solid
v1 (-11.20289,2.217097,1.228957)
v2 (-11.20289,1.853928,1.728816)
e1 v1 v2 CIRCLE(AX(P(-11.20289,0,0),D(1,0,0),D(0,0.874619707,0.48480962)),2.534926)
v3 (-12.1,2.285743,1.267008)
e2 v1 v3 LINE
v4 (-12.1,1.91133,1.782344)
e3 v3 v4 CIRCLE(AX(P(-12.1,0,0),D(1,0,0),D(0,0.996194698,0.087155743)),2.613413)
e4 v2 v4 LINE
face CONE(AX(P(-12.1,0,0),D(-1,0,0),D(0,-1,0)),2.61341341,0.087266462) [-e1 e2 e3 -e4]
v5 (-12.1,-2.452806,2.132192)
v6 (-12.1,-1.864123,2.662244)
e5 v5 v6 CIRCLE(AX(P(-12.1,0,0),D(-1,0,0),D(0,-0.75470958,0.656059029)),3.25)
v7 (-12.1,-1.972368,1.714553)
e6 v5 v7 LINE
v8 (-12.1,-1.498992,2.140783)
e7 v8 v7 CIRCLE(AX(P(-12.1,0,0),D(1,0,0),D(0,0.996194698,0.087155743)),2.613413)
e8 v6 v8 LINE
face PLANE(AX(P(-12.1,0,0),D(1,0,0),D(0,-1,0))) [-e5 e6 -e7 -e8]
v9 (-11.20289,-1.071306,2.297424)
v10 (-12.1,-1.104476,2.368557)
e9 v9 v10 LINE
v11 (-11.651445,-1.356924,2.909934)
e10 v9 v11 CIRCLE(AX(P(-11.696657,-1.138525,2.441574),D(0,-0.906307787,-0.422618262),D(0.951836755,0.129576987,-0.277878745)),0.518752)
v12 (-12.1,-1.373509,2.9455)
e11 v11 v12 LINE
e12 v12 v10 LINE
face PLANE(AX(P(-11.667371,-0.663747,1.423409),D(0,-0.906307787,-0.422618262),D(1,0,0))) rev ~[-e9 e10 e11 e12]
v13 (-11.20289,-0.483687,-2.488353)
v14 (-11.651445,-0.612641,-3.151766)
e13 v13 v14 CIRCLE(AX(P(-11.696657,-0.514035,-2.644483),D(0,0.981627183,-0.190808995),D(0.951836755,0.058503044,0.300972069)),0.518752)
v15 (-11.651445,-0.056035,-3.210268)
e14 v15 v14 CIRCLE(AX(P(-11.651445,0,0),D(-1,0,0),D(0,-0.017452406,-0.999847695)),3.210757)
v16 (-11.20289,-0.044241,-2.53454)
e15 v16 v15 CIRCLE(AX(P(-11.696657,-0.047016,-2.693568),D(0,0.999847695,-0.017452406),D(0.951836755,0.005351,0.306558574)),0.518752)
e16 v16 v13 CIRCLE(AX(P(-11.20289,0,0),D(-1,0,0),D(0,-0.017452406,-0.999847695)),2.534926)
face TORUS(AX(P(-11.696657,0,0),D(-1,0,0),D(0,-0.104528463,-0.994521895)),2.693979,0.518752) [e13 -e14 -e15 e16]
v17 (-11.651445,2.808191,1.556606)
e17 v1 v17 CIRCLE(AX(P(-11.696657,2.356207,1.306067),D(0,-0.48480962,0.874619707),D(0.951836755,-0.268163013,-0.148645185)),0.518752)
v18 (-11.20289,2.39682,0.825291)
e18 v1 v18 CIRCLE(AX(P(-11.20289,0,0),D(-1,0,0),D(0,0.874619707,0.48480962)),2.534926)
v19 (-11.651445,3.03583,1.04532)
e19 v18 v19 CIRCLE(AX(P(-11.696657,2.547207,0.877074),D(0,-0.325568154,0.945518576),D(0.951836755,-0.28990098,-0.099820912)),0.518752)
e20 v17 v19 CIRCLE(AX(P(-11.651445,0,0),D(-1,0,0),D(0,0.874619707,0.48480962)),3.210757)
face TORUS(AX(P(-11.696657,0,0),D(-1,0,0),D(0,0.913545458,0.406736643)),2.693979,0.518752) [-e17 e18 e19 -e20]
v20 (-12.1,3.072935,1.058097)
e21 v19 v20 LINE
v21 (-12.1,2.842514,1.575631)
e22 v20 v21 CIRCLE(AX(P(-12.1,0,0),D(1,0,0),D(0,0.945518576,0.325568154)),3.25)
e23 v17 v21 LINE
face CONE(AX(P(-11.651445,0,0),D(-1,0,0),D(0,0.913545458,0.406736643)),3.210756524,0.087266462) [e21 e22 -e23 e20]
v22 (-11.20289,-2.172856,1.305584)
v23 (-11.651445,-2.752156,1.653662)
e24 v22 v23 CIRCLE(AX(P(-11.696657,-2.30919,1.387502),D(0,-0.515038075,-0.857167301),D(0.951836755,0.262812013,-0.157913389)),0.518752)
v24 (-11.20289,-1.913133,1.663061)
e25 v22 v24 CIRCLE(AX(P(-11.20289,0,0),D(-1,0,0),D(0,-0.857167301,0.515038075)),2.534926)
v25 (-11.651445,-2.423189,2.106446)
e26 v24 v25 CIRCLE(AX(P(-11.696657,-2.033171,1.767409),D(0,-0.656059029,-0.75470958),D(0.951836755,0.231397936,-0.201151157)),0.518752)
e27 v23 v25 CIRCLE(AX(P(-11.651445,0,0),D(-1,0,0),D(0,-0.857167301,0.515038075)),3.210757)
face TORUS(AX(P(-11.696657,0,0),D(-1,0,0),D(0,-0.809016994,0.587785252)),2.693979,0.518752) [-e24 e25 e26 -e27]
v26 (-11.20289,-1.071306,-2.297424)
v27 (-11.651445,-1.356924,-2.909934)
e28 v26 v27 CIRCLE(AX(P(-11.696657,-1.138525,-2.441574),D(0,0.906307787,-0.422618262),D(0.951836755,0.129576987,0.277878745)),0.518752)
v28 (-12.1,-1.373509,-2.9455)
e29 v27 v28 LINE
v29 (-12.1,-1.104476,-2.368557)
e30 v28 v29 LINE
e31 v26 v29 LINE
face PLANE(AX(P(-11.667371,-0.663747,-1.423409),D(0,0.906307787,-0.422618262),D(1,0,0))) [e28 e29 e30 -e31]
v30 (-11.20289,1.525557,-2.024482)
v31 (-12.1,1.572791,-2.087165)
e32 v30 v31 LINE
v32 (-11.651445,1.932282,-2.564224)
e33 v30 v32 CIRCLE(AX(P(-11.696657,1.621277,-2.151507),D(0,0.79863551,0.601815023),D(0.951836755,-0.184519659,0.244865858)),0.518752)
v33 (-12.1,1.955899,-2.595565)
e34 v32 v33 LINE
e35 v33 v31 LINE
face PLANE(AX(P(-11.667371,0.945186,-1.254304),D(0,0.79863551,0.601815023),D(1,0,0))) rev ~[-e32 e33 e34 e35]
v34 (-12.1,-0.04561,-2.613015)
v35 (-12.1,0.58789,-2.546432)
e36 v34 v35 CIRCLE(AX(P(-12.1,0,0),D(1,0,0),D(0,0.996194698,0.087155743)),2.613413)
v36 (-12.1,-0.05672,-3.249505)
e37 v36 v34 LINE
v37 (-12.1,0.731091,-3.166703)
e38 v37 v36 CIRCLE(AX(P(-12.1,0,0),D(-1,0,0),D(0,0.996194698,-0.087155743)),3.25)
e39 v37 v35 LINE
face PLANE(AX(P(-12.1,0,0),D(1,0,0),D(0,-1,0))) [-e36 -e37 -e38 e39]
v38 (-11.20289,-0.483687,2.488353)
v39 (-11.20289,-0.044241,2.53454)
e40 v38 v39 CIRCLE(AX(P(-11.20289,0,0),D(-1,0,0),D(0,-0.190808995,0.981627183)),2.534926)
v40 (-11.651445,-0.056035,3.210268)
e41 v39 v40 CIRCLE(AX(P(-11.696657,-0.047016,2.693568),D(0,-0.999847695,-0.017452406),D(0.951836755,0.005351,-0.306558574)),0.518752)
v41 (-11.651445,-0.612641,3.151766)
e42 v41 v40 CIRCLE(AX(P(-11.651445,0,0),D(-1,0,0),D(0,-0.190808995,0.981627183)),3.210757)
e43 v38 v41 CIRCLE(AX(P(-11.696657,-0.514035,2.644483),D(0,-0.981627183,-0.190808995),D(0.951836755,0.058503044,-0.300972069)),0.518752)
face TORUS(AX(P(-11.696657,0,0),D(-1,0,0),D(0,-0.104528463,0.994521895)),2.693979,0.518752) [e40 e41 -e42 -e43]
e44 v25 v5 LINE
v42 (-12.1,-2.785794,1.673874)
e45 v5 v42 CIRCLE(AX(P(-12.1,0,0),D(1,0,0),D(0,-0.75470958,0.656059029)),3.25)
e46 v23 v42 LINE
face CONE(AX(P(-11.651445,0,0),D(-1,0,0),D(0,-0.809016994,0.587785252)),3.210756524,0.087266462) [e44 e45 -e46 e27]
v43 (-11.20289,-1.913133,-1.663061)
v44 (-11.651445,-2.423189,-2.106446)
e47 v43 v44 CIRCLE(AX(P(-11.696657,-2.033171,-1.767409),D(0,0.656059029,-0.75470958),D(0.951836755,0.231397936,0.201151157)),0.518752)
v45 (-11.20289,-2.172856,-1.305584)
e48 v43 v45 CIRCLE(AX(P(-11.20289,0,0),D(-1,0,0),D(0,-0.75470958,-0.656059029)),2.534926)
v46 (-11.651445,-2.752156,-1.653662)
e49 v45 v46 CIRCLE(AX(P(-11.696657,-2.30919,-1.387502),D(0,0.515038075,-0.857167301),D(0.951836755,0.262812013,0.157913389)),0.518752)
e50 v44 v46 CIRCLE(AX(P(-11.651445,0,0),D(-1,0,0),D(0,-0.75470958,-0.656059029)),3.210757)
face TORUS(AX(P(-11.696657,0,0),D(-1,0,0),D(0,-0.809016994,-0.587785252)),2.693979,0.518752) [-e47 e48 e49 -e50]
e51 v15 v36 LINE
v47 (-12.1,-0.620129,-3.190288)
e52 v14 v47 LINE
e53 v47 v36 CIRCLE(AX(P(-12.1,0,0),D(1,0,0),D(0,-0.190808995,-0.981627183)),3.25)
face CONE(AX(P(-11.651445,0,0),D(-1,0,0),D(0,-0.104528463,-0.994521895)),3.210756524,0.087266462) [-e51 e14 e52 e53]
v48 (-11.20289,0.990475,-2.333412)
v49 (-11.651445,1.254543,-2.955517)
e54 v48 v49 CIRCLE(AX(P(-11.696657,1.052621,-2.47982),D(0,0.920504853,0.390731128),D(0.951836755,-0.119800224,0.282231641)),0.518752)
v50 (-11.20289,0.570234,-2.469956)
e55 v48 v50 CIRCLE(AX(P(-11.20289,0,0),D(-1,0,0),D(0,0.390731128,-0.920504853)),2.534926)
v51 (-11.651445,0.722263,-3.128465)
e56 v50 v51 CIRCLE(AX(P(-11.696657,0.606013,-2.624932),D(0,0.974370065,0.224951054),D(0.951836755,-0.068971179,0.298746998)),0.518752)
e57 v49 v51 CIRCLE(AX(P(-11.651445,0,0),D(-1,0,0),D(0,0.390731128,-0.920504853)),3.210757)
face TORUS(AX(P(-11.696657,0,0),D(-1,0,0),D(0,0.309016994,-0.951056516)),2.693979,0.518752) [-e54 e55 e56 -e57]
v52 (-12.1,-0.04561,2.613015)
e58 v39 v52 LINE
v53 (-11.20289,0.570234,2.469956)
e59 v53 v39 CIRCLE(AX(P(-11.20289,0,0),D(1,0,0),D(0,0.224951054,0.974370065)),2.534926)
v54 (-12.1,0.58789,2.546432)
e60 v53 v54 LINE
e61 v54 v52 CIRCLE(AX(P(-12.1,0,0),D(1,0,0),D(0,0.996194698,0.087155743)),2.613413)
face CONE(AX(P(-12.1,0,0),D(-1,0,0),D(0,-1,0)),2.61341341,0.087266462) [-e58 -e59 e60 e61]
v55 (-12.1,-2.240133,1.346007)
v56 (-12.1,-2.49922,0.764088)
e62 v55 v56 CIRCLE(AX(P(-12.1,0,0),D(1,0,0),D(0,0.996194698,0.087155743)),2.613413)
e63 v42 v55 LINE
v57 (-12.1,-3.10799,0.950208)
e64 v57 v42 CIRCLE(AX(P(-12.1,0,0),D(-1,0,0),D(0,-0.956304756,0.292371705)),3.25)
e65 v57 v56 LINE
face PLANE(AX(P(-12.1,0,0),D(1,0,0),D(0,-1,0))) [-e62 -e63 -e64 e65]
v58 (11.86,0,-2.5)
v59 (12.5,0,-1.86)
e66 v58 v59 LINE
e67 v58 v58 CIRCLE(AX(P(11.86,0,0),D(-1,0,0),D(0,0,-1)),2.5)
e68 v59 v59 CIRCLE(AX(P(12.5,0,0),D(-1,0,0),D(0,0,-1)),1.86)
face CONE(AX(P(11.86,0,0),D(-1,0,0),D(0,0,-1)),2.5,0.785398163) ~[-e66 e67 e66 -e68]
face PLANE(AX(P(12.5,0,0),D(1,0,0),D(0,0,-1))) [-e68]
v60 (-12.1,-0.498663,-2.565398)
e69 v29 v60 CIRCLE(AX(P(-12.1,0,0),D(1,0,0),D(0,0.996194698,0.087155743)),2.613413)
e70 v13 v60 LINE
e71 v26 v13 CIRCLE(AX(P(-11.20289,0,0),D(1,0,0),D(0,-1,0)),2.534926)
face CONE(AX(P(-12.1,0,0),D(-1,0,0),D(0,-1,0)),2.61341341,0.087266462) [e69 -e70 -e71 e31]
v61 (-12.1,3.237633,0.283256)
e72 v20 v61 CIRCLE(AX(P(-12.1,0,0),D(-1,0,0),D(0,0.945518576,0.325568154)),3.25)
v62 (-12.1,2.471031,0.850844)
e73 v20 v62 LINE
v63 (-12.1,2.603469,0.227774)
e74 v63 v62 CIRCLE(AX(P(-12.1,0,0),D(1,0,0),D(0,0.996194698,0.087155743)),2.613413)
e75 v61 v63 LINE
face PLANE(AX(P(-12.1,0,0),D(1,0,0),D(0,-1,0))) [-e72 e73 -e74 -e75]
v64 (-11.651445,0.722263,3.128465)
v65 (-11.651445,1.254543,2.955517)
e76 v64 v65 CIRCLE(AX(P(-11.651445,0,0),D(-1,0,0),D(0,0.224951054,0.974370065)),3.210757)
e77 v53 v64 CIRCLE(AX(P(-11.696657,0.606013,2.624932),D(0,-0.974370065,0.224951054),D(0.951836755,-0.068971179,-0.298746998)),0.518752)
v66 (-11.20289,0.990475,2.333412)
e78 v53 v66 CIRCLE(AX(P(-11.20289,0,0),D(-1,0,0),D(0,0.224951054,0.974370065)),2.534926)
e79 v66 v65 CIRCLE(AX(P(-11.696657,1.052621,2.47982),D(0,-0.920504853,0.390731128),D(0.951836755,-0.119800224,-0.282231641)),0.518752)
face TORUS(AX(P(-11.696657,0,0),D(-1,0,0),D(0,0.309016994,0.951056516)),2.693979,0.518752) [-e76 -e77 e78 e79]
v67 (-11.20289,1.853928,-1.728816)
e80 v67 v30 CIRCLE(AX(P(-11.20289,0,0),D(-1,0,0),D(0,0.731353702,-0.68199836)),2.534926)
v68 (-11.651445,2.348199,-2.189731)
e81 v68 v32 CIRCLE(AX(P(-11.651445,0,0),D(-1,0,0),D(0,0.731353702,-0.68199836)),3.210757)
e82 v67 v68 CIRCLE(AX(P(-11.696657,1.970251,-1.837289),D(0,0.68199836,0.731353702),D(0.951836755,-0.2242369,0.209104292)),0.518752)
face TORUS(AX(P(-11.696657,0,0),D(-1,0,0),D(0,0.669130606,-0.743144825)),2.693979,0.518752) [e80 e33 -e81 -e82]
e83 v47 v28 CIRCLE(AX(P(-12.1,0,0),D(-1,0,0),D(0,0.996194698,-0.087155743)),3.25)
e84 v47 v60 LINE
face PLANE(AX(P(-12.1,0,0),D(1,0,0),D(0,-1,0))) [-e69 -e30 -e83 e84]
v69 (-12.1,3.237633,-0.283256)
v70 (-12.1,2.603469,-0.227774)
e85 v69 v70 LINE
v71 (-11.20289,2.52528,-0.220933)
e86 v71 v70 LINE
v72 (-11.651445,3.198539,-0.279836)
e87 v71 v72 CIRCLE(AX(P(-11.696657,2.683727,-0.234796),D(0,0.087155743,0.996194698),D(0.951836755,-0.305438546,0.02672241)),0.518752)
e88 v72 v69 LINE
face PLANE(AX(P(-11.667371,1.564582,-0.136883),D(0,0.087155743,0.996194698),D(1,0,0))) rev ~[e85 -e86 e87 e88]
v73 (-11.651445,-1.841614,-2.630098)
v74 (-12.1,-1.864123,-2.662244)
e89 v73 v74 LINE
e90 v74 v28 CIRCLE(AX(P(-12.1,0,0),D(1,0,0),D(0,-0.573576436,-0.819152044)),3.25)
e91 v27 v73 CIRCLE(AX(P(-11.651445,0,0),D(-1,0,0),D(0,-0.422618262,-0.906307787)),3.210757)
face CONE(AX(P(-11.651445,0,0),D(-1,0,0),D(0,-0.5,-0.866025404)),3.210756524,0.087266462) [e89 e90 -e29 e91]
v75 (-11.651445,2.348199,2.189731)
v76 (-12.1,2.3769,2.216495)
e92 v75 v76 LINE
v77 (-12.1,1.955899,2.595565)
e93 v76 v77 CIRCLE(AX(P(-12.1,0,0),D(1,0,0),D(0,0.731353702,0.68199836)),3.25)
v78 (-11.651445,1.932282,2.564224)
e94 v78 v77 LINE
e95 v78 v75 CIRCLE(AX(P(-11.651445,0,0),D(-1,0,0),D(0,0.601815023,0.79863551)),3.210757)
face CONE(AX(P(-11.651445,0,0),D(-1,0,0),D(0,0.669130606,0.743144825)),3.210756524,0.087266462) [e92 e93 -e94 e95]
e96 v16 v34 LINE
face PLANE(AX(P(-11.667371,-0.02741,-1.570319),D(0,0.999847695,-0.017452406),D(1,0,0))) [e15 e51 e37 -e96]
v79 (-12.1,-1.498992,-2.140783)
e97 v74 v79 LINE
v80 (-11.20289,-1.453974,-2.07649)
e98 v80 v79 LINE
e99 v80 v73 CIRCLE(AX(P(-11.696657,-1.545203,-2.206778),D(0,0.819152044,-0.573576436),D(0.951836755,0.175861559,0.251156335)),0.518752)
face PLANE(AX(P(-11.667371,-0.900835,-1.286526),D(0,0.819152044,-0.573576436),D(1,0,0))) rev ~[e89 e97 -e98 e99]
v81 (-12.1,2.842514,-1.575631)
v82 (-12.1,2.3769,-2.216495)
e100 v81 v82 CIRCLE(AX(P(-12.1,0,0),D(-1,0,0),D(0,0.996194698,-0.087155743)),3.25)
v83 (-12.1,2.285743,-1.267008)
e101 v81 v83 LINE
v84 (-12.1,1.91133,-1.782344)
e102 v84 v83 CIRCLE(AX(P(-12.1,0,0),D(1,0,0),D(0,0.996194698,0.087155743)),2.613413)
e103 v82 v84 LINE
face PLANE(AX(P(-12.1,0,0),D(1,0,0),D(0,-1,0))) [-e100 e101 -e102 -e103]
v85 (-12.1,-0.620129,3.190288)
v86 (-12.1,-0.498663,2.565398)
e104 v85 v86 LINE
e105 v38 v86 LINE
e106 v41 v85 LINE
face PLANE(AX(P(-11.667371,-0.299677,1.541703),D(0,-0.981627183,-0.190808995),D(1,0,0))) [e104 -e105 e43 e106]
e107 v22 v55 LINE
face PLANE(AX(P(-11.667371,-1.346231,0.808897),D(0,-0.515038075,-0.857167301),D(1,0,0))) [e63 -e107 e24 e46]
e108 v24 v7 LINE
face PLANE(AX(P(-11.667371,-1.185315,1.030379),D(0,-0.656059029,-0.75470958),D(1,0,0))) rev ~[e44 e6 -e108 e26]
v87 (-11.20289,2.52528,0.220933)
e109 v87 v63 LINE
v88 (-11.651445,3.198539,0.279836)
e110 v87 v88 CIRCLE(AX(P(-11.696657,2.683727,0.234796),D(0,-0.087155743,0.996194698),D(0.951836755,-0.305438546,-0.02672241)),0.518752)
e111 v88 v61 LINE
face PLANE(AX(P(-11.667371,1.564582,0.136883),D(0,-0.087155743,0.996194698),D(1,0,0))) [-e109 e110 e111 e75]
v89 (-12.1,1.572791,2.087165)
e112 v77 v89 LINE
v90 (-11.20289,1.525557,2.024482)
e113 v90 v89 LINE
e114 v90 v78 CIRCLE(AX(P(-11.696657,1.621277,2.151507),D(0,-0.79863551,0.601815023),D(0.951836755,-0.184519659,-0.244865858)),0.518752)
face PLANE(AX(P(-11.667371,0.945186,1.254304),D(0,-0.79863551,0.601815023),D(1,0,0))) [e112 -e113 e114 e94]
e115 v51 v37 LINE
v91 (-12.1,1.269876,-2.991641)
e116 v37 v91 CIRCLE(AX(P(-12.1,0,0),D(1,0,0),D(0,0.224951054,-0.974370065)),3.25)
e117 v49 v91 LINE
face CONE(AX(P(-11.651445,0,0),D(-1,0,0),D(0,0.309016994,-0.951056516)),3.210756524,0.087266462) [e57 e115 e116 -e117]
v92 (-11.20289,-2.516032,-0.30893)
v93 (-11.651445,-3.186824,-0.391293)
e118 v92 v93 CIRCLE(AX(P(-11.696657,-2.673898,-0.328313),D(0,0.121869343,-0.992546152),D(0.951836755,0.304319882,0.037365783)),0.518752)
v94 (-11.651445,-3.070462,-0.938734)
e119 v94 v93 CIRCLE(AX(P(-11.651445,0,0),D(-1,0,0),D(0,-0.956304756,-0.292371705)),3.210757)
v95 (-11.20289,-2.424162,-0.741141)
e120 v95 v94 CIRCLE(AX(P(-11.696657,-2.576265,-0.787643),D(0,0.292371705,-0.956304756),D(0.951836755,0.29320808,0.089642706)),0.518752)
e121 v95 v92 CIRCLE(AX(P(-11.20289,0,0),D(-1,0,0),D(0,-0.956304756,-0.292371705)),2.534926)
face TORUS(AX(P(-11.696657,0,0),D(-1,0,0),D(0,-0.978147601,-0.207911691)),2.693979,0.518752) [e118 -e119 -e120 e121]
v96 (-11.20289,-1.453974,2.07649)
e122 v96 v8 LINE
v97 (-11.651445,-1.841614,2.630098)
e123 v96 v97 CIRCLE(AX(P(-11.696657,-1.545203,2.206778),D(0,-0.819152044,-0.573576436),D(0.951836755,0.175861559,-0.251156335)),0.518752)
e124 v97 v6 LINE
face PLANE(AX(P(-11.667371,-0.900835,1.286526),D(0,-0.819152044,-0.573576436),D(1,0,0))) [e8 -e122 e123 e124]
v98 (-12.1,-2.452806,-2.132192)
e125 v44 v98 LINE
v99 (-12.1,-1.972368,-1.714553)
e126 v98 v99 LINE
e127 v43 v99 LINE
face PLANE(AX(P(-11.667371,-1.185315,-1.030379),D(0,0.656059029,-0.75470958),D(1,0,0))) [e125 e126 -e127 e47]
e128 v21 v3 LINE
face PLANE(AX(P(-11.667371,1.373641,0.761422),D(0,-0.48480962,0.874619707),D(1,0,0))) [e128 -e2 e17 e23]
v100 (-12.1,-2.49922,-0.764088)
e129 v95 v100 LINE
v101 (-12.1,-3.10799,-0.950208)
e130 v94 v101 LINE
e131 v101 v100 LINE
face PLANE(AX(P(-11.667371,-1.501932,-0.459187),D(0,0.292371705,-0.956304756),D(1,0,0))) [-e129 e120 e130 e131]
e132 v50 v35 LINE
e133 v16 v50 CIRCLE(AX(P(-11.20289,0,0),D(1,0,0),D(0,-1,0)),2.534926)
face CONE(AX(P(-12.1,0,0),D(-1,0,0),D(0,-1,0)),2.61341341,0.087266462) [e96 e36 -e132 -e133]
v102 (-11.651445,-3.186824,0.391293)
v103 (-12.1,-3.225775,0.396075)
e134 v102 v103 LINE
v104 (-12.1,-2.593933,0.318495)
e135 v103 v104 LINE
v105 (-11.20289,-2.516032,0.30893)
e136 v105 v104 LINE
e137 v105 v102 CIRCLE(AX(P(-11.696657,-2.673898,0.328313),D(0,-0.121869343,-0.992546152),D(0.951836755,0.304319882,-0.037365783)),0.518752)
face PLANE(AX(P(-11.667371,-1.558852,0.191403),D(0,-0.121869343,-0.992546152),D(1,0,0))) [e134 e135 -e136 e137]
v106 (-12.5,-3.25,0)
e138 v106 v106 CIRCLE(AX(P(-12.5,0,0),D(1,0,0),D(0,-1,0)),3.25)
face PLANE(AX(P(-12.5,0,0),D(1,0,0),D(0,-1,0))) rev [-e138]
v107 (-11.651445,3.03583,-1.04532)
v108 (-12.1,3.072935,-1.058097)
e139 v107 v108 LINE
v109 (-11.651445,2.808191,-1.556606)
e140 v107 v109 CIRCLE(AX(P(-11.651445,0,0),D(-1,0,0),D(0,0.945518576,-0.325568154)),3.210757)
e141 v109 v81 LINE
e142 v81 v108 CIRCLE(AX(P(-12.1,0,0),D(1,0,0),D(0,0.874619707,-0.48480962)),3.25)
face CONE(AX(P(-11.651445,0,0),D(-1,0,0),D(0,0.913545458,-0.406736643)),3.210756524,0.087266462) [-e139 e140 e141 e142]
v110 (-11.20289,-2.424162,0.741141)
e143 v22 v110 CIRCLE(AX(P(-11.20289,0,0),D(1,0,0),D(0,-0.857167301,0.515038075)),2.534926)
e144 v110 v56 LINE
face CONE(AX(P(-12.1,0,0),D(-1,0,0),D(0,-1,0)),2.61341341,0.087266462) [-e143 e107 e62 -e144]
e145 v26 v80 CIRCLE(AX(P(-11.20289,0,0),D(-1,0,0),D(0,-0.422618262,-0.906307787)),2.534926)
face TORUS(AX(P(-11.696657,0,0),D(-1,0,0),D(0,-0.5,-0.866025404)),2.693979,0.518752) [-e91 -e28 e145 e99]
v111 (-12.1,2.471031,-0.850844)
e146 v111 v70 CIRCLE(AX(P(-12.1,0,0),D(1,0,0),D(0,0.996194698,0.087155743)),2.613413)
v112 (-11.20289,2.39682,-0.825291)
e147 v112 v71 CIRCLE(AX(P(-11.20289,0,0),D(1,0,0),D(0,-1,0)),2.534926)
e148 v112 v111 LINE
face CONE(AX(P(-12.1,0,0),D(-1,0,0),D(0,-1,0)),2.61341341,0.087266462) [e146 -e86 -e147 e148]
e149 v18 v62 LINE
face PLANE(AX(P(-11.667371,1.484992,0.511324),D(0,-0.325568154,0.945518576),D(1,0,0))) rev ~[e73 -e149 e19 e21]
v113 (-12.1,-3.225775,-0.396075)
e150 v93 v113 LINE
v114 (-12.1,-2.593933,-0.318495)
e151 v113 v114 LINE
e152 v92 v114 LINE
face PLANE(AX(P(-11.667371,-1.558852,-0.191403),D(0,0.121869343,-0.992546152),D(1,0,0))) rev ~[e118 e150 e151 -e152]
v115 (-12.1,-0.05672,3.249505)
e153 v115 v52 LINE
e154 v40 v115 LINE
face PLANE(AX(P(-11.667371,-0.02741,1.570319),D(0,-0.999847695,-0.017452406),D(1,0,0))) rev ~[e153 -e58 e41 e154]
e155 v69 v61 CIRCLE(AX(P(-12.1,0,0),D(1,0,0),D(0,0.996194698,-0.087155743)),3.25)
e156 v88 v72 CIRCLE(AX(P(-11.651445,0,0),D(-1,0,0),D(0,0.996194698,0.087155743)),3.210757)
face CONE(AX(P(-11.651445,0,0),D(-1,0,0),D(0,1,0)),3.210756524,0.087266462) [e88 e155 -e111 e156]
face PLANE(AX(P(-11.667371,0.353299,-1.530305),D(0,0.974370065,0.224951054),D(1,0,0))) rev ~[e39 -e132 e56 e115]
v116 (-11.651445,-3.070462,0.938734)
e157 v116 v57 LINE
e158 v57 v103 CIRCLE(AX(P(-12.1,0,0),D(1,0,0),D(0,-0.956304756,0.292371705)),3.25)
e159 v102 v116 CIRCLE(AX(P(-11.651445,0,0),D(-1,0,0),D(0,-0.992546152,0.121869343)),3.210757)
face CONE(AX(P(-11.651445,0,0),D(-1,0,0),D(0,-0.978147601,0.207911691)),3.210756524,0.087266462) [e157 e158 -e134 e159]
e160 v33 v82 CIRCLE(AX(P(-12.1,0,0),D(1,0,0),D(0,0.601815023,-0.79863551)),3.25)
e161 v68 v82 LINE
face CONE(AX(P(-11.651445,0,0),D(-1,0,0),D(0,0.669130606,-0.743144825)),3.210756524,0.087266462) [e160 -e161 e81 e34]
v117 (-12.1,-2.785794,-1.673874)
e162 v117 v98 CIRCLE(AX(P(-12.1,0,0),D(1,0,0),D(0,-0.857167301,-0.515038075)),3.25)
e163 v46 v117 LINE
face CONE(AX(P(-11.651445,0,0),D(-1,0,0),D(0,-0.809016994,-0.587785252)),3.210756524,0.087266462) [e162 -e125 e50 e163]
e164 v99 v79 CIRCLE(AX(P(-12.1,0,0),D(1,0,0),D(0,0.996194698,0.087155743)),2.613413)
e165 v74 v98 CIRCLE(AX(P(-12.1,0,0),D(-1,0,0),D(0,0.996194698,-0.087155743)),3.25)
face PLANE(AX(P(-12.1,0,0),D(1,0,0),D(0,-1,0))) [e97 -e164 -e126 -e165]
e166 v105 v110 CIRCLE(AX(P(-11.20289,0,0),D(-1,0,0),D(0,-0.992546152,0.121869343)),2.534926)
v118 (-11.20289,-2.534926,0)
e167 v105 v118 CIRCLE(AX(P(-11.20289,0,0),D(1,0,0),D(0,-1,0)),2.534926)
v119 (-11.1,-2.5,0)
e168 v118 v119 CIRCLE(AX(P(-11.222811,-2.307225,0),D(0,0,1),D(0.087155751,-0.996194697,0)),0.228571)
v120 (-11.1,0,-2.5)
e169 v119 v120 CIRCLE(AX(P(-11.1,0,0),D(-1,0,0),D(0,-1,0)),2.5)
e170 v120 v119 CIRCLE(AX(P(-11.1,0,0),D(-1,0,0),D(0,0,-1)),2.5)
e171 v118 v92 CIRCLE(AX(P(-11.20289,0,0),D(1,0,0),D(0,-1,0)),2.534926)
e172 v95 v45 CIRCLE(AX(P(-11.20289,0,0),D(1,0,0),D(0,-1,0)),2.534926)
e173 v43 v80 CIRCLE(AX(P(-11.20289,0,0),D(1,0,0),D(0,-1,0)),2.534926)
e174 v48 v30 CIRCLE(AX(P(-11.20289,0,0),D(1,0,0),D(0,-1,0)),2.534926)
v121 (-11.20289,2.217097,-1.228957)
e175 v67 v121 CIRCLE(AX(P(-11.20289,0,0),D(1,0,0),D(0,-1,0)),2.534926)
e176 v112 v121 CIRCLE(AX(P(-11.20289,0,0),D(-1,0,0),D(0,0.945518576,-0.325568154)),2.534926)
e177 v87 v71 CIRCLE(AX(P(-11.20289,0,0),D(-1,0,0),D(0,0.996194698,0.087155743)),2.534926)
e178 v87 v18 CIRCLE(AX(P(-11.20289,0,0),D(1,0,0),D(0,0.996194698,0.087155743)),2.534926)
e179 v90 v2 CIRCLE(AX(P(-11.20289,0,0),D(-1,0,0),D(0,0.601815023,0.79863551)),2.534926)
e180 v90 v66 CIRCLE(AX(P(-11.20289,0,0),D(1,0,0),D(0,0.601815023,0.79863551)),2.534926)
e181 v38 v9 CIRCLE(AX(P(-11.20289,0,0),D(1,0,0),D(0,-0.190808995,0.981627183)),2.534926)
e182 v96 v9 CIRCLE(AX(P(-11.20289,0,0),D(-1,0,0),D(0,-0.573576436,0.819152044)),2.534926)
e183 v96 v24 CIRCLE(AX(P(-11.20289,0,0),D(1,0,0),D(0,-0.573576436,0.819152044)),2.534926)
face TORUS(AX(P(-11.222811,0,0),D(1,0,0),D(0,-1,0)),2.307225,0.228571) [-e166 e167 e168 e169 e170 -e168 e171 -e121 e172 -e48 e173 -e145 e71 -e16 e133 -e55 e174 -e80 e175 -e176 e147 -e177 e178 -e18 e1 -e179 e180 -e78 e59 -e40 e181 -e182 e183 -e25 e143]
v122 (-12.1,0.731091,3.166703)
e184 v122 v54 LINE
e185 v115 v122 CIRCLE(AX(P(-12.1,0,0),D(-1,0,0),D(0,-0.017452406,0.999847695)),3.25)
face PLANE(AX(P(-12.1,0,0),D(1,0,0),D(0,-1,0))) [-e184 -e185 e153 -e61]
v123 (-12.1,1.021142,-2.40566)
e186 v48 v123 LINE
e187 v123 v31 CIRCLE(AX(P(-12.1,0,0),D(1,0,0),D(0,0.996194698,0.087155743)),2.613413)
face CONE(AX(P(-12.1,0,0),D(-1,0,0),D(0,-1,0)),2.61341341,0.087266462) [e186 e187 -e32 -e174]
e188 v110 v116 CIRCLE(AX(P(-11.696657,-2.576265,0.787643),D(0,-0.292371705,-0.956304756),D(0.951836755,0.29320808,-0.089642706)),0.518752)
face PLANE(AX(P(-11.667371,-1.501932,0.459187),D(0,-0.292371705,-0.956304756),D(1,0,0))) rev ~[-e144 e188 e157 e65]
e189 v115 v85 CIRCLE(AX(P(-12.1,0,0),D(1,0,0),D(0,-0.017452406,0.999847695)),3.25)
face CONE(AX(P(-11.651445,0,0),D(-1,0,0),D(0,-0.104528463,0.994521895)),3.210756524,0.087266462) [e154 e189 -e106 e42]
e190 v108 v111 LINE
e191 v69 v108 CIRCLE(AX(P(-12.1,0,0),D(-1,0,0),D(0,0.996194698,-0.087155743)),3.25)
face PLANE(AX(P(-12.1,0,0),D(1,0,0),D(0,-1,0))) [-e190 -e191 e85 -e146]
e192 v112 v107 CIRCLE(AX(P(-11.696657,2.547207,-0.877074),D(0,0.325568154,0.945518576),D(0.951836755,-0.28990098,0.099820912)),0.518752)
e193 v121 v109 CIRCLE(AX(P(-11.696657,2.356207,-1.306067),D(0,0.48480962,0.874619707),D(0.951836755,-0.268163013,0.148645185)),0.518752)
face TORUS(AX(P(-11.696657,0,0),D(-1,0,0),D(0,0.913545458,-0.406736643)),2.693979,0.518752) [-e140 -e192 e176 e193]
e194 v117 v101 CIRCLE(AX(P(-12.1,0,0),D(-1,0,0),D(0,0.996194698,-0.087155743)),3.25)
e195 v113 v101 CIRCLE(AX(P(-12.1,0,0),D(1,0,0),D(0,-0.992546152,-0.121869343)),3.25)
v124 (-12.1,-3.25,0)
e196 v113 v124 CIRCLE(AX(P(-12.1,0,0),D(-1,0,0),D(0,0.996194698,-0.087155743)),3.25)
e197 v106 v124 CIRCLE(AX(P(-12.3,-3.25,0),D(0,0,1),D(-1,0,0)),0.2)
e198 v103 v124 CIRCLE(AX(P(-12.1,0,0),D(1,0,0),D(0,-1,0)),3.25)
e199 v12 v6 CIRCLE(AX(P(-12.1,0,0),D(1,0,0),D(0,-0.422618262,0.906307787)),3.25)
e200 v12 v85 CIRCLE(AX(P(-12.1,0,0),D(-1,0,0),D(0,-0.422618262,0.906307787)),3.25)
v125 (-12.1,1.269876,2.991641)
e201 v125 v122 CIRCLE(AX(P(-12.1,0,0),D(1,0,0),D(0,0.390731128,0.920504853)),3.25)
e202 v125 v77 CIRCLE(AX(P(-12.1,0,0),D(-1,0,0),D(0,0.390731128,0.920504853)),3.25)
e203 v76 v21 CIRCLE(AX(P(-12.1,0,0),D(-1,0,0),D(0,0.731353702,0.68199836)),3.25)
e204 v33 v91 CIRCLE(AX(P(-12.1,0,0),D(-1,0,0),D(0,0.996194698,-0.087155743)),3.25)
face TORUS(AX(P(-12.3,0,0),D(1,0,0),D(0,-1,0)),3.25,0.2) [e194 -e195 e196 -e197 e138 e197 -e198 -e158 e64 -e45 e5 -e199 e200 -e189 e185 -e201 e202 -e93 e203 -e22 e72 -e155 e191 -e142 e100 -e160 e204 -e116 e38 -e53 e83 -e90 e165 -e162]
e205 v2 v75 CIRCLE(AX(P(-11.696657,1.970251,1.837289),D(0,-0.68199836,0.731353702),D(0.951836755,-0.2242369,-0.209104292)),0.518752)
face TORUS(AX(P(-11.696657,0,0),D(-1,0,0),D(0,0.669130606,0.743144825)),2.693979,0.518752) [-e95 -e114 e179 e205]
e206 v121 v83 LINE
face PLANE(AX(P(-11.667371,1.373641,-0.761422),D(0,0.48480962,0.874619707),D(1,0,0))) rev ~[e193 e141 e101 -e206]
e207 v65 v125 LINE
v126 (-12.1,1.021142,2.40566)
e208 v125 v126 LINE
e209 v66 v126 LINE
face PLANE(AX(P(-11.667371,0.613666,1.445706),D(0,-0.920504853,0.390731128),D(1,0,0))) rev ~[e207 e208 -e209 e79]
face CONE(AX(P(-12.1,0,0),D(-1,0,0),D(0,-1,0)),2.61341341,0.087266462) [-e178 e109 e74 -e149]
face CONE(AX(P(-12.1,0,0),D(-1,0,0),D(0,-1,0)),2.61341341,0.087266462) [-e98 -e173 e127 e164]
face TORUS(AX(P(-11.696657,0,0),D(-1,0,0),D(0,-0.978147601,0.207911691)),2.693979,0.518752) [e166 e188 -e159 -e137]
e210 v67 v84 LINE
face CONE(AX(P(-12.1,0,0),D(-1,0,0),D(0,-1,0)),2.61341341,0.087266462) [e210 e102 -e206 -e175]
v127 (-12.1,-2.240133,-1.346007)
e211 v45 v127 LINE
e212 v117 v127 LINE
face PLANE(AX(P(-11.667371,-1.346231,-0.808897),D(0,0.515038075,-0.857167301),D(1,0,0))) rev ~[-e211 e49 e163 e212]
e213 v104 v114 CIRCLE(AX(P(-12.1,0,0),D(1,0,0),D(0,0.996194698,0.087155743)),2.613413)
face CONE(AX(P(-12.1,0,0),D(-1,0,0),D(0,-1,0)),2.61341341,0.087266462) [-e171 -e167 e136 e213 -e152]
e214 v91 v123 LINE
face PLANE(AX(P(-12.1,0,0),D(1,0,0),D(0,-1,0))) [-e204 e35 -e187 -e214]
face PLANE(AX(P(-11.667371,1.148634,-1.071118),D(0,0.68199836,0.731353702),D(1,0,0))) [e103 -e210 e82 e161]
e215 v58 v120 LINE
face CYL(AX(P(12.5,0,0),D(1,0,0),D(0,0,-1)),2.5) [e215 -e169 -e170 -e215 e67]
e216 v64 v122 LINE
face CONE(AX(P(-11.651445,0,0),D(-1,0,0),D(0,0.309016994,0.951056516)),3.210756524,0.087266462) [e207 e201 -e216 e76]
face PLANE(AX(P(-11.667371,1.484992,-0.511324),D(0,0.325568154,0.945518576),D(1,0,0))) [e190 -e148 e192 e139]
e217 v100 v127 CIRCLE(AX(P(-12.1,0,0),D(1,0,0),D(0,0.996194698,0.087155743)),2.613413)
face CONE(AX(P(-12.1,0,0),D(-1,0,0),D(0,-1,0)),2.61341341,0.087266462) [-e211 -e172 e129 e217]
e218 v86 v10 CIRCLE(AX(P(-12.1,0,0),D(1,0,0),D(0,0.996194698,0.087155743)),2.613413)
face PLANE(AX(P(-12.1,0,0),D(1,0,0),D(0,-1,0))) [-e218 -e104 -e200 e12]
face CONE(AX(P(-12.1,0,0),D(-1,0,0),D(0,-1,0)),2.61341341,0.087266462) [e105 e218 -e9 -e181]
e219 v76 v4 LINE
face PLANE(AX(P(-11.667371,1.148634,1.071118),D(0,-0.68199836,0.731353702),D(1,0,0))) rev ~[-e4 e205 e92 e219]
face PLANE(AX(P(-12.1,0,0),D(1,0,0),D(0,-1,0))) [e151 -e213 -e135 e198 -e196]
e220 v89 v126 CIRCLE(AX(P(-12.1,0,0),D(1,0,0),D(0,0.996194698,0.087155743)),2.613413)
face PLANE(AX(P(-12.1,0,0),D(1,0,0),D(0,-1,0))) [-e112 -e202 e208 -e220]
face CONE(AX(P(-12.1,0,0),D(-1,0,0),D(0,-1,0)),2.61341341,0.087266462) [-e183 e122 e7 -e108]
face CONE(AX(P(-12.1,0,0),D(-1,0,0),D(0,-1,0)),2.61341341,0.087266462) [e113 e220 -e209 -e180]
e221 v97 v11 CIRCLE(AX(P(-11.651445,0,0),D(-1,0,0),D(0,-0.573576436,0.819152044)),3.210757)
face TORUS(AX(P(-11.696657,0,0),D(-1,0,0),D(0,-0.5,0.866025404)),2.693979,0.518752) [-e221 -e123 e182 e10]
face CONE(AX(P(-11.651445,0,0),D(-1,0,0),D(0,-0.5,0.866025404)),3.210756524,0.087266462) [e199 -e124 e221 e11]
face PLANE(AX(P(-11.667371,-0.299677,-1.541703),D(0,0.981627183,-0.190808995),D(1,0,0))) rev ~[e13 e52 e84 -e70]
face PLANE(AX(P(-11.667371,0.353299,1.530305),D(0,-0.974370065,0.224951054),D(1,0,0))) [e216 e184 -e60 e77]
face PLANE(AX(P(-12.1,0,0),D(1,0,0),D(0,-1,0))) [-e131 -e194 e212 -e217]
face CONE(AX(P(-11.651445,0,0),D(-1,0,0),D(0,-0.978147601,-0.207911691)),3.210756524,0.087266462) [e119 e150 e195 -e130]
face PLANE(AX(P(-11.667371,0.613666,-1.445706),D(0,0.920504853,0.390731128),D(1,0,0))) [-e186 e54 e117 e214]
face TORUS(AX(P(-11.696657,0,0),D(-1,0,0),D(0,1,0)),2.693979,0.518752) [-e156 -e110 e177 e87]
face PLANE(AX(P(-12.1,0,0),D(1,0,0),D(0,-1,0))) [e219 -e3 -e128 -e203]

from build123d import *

# Parameters (mm, degrees)
BOSS_EXTRUDE1_START = 12.5
SKETCH2_R           = 2.5
BOSS_EXTRUDE1_DEPTH = 25
REVOLVE2_ANGLE      = 10
CIRPATTERN1_COUNT   = 15
CHAMFER1_SIZE       = 0.64


with BuildPart() as part:
    # Sketch2 → Boss-Extrude1 (new body)
    with BuildSketch(Plane(origin=(0, 0, 0), x_dir=(0, 0, -1), z_dir=(1, 0, 0)).offset(BOSS_EXTRUDE1_START)):
        Circle(SKETCH2_R)
    extrude(amount=-BOSS_EXTRUDE1_DEPTH)

    # Sketch5 → Revolve1 (revolve)
    with BuildSketch(Plane.XY, mode=Mode.PRIVATE) as revolve1_sk:
        with BuildLine():
            Line((-12.5, 0), (-12.5, 3.25))
            ThreePointArc((-12.5, 3.25), (-12.3, 3.45), (-12.1, 3.25))
            Line((-12.1, 3.25), (-12.1, 2.61341341))
            Line((-12.1, 2.61341341), (-11.202890026, 2.534926458))
            ThreePointArc((-11.202890026, 2.534926458), (-11.1, 2.5), (-11.024862675, 2.421510527))
            Line((-11.024862675, 2.421510527), (-9.626802921, 0))
            Line((-9.626802921, 0), (-12.5, 0))
        make_face()
    revolve(revolve1_sk.sketch.rotate(Axis((-12.5, 0, 0), (1, 0, 0)), 180), axis=Axis((-12.5, 0, 0), (1, 0, 0)))

    # Sketch6 → Revolve2 (revolve, symmetric)
    with BuildSketch(Plane.XY) as revolve2_sk:
        with BuildLine():
            Line((-12.1, 3.25), (-12.1, 0))
            Line((-12.1, 0), (-11.202890026, 0))
            Line((-11.202890026, 0), (-11.202890026, 2.534926458))
            ThreePointArc((-11.202890026, 2.534926458), (-11.264440532, 2.980844975), (-11.651445013, 3.210756524))
            Line((-11.651445013, 3.210756524), (-12.1, 3.25))
        make_face()
    revolve(axis=Axis((-12.1, 0, 0), (1, 0, 0)), revolution_arc=REVOLVE2_ANGLE / 2)
    revolve(revolve2_sk.sketch, axis=Axis((-12.1, 0, 0), (-1, 0, 0)), revolution_arc=REVOLVE2_ANGLE / 2)

    # CirPattern1: part ×15 about axis
    cirpattern1_axis = Axis((0, 0, 0), (1, 0, 0))


with BuildPart() as part_1:
    add(part.part)
    for i in range(1, CIRPATTERN1_COUNT):
        add(part.part.rotate(cirpattern1_axis, i * 360 / CIRPATTERN1_COUNT))

    # Chamfer1
    chamfer1_edges = [part_1.edges().sort_by_distance(p)[0] for p in [
        (12.5, 0, 2.5),
    ]]
    chamfer(chamfer1_edges, length=CHAMFER1_SIZE)


solid = part_1.part
